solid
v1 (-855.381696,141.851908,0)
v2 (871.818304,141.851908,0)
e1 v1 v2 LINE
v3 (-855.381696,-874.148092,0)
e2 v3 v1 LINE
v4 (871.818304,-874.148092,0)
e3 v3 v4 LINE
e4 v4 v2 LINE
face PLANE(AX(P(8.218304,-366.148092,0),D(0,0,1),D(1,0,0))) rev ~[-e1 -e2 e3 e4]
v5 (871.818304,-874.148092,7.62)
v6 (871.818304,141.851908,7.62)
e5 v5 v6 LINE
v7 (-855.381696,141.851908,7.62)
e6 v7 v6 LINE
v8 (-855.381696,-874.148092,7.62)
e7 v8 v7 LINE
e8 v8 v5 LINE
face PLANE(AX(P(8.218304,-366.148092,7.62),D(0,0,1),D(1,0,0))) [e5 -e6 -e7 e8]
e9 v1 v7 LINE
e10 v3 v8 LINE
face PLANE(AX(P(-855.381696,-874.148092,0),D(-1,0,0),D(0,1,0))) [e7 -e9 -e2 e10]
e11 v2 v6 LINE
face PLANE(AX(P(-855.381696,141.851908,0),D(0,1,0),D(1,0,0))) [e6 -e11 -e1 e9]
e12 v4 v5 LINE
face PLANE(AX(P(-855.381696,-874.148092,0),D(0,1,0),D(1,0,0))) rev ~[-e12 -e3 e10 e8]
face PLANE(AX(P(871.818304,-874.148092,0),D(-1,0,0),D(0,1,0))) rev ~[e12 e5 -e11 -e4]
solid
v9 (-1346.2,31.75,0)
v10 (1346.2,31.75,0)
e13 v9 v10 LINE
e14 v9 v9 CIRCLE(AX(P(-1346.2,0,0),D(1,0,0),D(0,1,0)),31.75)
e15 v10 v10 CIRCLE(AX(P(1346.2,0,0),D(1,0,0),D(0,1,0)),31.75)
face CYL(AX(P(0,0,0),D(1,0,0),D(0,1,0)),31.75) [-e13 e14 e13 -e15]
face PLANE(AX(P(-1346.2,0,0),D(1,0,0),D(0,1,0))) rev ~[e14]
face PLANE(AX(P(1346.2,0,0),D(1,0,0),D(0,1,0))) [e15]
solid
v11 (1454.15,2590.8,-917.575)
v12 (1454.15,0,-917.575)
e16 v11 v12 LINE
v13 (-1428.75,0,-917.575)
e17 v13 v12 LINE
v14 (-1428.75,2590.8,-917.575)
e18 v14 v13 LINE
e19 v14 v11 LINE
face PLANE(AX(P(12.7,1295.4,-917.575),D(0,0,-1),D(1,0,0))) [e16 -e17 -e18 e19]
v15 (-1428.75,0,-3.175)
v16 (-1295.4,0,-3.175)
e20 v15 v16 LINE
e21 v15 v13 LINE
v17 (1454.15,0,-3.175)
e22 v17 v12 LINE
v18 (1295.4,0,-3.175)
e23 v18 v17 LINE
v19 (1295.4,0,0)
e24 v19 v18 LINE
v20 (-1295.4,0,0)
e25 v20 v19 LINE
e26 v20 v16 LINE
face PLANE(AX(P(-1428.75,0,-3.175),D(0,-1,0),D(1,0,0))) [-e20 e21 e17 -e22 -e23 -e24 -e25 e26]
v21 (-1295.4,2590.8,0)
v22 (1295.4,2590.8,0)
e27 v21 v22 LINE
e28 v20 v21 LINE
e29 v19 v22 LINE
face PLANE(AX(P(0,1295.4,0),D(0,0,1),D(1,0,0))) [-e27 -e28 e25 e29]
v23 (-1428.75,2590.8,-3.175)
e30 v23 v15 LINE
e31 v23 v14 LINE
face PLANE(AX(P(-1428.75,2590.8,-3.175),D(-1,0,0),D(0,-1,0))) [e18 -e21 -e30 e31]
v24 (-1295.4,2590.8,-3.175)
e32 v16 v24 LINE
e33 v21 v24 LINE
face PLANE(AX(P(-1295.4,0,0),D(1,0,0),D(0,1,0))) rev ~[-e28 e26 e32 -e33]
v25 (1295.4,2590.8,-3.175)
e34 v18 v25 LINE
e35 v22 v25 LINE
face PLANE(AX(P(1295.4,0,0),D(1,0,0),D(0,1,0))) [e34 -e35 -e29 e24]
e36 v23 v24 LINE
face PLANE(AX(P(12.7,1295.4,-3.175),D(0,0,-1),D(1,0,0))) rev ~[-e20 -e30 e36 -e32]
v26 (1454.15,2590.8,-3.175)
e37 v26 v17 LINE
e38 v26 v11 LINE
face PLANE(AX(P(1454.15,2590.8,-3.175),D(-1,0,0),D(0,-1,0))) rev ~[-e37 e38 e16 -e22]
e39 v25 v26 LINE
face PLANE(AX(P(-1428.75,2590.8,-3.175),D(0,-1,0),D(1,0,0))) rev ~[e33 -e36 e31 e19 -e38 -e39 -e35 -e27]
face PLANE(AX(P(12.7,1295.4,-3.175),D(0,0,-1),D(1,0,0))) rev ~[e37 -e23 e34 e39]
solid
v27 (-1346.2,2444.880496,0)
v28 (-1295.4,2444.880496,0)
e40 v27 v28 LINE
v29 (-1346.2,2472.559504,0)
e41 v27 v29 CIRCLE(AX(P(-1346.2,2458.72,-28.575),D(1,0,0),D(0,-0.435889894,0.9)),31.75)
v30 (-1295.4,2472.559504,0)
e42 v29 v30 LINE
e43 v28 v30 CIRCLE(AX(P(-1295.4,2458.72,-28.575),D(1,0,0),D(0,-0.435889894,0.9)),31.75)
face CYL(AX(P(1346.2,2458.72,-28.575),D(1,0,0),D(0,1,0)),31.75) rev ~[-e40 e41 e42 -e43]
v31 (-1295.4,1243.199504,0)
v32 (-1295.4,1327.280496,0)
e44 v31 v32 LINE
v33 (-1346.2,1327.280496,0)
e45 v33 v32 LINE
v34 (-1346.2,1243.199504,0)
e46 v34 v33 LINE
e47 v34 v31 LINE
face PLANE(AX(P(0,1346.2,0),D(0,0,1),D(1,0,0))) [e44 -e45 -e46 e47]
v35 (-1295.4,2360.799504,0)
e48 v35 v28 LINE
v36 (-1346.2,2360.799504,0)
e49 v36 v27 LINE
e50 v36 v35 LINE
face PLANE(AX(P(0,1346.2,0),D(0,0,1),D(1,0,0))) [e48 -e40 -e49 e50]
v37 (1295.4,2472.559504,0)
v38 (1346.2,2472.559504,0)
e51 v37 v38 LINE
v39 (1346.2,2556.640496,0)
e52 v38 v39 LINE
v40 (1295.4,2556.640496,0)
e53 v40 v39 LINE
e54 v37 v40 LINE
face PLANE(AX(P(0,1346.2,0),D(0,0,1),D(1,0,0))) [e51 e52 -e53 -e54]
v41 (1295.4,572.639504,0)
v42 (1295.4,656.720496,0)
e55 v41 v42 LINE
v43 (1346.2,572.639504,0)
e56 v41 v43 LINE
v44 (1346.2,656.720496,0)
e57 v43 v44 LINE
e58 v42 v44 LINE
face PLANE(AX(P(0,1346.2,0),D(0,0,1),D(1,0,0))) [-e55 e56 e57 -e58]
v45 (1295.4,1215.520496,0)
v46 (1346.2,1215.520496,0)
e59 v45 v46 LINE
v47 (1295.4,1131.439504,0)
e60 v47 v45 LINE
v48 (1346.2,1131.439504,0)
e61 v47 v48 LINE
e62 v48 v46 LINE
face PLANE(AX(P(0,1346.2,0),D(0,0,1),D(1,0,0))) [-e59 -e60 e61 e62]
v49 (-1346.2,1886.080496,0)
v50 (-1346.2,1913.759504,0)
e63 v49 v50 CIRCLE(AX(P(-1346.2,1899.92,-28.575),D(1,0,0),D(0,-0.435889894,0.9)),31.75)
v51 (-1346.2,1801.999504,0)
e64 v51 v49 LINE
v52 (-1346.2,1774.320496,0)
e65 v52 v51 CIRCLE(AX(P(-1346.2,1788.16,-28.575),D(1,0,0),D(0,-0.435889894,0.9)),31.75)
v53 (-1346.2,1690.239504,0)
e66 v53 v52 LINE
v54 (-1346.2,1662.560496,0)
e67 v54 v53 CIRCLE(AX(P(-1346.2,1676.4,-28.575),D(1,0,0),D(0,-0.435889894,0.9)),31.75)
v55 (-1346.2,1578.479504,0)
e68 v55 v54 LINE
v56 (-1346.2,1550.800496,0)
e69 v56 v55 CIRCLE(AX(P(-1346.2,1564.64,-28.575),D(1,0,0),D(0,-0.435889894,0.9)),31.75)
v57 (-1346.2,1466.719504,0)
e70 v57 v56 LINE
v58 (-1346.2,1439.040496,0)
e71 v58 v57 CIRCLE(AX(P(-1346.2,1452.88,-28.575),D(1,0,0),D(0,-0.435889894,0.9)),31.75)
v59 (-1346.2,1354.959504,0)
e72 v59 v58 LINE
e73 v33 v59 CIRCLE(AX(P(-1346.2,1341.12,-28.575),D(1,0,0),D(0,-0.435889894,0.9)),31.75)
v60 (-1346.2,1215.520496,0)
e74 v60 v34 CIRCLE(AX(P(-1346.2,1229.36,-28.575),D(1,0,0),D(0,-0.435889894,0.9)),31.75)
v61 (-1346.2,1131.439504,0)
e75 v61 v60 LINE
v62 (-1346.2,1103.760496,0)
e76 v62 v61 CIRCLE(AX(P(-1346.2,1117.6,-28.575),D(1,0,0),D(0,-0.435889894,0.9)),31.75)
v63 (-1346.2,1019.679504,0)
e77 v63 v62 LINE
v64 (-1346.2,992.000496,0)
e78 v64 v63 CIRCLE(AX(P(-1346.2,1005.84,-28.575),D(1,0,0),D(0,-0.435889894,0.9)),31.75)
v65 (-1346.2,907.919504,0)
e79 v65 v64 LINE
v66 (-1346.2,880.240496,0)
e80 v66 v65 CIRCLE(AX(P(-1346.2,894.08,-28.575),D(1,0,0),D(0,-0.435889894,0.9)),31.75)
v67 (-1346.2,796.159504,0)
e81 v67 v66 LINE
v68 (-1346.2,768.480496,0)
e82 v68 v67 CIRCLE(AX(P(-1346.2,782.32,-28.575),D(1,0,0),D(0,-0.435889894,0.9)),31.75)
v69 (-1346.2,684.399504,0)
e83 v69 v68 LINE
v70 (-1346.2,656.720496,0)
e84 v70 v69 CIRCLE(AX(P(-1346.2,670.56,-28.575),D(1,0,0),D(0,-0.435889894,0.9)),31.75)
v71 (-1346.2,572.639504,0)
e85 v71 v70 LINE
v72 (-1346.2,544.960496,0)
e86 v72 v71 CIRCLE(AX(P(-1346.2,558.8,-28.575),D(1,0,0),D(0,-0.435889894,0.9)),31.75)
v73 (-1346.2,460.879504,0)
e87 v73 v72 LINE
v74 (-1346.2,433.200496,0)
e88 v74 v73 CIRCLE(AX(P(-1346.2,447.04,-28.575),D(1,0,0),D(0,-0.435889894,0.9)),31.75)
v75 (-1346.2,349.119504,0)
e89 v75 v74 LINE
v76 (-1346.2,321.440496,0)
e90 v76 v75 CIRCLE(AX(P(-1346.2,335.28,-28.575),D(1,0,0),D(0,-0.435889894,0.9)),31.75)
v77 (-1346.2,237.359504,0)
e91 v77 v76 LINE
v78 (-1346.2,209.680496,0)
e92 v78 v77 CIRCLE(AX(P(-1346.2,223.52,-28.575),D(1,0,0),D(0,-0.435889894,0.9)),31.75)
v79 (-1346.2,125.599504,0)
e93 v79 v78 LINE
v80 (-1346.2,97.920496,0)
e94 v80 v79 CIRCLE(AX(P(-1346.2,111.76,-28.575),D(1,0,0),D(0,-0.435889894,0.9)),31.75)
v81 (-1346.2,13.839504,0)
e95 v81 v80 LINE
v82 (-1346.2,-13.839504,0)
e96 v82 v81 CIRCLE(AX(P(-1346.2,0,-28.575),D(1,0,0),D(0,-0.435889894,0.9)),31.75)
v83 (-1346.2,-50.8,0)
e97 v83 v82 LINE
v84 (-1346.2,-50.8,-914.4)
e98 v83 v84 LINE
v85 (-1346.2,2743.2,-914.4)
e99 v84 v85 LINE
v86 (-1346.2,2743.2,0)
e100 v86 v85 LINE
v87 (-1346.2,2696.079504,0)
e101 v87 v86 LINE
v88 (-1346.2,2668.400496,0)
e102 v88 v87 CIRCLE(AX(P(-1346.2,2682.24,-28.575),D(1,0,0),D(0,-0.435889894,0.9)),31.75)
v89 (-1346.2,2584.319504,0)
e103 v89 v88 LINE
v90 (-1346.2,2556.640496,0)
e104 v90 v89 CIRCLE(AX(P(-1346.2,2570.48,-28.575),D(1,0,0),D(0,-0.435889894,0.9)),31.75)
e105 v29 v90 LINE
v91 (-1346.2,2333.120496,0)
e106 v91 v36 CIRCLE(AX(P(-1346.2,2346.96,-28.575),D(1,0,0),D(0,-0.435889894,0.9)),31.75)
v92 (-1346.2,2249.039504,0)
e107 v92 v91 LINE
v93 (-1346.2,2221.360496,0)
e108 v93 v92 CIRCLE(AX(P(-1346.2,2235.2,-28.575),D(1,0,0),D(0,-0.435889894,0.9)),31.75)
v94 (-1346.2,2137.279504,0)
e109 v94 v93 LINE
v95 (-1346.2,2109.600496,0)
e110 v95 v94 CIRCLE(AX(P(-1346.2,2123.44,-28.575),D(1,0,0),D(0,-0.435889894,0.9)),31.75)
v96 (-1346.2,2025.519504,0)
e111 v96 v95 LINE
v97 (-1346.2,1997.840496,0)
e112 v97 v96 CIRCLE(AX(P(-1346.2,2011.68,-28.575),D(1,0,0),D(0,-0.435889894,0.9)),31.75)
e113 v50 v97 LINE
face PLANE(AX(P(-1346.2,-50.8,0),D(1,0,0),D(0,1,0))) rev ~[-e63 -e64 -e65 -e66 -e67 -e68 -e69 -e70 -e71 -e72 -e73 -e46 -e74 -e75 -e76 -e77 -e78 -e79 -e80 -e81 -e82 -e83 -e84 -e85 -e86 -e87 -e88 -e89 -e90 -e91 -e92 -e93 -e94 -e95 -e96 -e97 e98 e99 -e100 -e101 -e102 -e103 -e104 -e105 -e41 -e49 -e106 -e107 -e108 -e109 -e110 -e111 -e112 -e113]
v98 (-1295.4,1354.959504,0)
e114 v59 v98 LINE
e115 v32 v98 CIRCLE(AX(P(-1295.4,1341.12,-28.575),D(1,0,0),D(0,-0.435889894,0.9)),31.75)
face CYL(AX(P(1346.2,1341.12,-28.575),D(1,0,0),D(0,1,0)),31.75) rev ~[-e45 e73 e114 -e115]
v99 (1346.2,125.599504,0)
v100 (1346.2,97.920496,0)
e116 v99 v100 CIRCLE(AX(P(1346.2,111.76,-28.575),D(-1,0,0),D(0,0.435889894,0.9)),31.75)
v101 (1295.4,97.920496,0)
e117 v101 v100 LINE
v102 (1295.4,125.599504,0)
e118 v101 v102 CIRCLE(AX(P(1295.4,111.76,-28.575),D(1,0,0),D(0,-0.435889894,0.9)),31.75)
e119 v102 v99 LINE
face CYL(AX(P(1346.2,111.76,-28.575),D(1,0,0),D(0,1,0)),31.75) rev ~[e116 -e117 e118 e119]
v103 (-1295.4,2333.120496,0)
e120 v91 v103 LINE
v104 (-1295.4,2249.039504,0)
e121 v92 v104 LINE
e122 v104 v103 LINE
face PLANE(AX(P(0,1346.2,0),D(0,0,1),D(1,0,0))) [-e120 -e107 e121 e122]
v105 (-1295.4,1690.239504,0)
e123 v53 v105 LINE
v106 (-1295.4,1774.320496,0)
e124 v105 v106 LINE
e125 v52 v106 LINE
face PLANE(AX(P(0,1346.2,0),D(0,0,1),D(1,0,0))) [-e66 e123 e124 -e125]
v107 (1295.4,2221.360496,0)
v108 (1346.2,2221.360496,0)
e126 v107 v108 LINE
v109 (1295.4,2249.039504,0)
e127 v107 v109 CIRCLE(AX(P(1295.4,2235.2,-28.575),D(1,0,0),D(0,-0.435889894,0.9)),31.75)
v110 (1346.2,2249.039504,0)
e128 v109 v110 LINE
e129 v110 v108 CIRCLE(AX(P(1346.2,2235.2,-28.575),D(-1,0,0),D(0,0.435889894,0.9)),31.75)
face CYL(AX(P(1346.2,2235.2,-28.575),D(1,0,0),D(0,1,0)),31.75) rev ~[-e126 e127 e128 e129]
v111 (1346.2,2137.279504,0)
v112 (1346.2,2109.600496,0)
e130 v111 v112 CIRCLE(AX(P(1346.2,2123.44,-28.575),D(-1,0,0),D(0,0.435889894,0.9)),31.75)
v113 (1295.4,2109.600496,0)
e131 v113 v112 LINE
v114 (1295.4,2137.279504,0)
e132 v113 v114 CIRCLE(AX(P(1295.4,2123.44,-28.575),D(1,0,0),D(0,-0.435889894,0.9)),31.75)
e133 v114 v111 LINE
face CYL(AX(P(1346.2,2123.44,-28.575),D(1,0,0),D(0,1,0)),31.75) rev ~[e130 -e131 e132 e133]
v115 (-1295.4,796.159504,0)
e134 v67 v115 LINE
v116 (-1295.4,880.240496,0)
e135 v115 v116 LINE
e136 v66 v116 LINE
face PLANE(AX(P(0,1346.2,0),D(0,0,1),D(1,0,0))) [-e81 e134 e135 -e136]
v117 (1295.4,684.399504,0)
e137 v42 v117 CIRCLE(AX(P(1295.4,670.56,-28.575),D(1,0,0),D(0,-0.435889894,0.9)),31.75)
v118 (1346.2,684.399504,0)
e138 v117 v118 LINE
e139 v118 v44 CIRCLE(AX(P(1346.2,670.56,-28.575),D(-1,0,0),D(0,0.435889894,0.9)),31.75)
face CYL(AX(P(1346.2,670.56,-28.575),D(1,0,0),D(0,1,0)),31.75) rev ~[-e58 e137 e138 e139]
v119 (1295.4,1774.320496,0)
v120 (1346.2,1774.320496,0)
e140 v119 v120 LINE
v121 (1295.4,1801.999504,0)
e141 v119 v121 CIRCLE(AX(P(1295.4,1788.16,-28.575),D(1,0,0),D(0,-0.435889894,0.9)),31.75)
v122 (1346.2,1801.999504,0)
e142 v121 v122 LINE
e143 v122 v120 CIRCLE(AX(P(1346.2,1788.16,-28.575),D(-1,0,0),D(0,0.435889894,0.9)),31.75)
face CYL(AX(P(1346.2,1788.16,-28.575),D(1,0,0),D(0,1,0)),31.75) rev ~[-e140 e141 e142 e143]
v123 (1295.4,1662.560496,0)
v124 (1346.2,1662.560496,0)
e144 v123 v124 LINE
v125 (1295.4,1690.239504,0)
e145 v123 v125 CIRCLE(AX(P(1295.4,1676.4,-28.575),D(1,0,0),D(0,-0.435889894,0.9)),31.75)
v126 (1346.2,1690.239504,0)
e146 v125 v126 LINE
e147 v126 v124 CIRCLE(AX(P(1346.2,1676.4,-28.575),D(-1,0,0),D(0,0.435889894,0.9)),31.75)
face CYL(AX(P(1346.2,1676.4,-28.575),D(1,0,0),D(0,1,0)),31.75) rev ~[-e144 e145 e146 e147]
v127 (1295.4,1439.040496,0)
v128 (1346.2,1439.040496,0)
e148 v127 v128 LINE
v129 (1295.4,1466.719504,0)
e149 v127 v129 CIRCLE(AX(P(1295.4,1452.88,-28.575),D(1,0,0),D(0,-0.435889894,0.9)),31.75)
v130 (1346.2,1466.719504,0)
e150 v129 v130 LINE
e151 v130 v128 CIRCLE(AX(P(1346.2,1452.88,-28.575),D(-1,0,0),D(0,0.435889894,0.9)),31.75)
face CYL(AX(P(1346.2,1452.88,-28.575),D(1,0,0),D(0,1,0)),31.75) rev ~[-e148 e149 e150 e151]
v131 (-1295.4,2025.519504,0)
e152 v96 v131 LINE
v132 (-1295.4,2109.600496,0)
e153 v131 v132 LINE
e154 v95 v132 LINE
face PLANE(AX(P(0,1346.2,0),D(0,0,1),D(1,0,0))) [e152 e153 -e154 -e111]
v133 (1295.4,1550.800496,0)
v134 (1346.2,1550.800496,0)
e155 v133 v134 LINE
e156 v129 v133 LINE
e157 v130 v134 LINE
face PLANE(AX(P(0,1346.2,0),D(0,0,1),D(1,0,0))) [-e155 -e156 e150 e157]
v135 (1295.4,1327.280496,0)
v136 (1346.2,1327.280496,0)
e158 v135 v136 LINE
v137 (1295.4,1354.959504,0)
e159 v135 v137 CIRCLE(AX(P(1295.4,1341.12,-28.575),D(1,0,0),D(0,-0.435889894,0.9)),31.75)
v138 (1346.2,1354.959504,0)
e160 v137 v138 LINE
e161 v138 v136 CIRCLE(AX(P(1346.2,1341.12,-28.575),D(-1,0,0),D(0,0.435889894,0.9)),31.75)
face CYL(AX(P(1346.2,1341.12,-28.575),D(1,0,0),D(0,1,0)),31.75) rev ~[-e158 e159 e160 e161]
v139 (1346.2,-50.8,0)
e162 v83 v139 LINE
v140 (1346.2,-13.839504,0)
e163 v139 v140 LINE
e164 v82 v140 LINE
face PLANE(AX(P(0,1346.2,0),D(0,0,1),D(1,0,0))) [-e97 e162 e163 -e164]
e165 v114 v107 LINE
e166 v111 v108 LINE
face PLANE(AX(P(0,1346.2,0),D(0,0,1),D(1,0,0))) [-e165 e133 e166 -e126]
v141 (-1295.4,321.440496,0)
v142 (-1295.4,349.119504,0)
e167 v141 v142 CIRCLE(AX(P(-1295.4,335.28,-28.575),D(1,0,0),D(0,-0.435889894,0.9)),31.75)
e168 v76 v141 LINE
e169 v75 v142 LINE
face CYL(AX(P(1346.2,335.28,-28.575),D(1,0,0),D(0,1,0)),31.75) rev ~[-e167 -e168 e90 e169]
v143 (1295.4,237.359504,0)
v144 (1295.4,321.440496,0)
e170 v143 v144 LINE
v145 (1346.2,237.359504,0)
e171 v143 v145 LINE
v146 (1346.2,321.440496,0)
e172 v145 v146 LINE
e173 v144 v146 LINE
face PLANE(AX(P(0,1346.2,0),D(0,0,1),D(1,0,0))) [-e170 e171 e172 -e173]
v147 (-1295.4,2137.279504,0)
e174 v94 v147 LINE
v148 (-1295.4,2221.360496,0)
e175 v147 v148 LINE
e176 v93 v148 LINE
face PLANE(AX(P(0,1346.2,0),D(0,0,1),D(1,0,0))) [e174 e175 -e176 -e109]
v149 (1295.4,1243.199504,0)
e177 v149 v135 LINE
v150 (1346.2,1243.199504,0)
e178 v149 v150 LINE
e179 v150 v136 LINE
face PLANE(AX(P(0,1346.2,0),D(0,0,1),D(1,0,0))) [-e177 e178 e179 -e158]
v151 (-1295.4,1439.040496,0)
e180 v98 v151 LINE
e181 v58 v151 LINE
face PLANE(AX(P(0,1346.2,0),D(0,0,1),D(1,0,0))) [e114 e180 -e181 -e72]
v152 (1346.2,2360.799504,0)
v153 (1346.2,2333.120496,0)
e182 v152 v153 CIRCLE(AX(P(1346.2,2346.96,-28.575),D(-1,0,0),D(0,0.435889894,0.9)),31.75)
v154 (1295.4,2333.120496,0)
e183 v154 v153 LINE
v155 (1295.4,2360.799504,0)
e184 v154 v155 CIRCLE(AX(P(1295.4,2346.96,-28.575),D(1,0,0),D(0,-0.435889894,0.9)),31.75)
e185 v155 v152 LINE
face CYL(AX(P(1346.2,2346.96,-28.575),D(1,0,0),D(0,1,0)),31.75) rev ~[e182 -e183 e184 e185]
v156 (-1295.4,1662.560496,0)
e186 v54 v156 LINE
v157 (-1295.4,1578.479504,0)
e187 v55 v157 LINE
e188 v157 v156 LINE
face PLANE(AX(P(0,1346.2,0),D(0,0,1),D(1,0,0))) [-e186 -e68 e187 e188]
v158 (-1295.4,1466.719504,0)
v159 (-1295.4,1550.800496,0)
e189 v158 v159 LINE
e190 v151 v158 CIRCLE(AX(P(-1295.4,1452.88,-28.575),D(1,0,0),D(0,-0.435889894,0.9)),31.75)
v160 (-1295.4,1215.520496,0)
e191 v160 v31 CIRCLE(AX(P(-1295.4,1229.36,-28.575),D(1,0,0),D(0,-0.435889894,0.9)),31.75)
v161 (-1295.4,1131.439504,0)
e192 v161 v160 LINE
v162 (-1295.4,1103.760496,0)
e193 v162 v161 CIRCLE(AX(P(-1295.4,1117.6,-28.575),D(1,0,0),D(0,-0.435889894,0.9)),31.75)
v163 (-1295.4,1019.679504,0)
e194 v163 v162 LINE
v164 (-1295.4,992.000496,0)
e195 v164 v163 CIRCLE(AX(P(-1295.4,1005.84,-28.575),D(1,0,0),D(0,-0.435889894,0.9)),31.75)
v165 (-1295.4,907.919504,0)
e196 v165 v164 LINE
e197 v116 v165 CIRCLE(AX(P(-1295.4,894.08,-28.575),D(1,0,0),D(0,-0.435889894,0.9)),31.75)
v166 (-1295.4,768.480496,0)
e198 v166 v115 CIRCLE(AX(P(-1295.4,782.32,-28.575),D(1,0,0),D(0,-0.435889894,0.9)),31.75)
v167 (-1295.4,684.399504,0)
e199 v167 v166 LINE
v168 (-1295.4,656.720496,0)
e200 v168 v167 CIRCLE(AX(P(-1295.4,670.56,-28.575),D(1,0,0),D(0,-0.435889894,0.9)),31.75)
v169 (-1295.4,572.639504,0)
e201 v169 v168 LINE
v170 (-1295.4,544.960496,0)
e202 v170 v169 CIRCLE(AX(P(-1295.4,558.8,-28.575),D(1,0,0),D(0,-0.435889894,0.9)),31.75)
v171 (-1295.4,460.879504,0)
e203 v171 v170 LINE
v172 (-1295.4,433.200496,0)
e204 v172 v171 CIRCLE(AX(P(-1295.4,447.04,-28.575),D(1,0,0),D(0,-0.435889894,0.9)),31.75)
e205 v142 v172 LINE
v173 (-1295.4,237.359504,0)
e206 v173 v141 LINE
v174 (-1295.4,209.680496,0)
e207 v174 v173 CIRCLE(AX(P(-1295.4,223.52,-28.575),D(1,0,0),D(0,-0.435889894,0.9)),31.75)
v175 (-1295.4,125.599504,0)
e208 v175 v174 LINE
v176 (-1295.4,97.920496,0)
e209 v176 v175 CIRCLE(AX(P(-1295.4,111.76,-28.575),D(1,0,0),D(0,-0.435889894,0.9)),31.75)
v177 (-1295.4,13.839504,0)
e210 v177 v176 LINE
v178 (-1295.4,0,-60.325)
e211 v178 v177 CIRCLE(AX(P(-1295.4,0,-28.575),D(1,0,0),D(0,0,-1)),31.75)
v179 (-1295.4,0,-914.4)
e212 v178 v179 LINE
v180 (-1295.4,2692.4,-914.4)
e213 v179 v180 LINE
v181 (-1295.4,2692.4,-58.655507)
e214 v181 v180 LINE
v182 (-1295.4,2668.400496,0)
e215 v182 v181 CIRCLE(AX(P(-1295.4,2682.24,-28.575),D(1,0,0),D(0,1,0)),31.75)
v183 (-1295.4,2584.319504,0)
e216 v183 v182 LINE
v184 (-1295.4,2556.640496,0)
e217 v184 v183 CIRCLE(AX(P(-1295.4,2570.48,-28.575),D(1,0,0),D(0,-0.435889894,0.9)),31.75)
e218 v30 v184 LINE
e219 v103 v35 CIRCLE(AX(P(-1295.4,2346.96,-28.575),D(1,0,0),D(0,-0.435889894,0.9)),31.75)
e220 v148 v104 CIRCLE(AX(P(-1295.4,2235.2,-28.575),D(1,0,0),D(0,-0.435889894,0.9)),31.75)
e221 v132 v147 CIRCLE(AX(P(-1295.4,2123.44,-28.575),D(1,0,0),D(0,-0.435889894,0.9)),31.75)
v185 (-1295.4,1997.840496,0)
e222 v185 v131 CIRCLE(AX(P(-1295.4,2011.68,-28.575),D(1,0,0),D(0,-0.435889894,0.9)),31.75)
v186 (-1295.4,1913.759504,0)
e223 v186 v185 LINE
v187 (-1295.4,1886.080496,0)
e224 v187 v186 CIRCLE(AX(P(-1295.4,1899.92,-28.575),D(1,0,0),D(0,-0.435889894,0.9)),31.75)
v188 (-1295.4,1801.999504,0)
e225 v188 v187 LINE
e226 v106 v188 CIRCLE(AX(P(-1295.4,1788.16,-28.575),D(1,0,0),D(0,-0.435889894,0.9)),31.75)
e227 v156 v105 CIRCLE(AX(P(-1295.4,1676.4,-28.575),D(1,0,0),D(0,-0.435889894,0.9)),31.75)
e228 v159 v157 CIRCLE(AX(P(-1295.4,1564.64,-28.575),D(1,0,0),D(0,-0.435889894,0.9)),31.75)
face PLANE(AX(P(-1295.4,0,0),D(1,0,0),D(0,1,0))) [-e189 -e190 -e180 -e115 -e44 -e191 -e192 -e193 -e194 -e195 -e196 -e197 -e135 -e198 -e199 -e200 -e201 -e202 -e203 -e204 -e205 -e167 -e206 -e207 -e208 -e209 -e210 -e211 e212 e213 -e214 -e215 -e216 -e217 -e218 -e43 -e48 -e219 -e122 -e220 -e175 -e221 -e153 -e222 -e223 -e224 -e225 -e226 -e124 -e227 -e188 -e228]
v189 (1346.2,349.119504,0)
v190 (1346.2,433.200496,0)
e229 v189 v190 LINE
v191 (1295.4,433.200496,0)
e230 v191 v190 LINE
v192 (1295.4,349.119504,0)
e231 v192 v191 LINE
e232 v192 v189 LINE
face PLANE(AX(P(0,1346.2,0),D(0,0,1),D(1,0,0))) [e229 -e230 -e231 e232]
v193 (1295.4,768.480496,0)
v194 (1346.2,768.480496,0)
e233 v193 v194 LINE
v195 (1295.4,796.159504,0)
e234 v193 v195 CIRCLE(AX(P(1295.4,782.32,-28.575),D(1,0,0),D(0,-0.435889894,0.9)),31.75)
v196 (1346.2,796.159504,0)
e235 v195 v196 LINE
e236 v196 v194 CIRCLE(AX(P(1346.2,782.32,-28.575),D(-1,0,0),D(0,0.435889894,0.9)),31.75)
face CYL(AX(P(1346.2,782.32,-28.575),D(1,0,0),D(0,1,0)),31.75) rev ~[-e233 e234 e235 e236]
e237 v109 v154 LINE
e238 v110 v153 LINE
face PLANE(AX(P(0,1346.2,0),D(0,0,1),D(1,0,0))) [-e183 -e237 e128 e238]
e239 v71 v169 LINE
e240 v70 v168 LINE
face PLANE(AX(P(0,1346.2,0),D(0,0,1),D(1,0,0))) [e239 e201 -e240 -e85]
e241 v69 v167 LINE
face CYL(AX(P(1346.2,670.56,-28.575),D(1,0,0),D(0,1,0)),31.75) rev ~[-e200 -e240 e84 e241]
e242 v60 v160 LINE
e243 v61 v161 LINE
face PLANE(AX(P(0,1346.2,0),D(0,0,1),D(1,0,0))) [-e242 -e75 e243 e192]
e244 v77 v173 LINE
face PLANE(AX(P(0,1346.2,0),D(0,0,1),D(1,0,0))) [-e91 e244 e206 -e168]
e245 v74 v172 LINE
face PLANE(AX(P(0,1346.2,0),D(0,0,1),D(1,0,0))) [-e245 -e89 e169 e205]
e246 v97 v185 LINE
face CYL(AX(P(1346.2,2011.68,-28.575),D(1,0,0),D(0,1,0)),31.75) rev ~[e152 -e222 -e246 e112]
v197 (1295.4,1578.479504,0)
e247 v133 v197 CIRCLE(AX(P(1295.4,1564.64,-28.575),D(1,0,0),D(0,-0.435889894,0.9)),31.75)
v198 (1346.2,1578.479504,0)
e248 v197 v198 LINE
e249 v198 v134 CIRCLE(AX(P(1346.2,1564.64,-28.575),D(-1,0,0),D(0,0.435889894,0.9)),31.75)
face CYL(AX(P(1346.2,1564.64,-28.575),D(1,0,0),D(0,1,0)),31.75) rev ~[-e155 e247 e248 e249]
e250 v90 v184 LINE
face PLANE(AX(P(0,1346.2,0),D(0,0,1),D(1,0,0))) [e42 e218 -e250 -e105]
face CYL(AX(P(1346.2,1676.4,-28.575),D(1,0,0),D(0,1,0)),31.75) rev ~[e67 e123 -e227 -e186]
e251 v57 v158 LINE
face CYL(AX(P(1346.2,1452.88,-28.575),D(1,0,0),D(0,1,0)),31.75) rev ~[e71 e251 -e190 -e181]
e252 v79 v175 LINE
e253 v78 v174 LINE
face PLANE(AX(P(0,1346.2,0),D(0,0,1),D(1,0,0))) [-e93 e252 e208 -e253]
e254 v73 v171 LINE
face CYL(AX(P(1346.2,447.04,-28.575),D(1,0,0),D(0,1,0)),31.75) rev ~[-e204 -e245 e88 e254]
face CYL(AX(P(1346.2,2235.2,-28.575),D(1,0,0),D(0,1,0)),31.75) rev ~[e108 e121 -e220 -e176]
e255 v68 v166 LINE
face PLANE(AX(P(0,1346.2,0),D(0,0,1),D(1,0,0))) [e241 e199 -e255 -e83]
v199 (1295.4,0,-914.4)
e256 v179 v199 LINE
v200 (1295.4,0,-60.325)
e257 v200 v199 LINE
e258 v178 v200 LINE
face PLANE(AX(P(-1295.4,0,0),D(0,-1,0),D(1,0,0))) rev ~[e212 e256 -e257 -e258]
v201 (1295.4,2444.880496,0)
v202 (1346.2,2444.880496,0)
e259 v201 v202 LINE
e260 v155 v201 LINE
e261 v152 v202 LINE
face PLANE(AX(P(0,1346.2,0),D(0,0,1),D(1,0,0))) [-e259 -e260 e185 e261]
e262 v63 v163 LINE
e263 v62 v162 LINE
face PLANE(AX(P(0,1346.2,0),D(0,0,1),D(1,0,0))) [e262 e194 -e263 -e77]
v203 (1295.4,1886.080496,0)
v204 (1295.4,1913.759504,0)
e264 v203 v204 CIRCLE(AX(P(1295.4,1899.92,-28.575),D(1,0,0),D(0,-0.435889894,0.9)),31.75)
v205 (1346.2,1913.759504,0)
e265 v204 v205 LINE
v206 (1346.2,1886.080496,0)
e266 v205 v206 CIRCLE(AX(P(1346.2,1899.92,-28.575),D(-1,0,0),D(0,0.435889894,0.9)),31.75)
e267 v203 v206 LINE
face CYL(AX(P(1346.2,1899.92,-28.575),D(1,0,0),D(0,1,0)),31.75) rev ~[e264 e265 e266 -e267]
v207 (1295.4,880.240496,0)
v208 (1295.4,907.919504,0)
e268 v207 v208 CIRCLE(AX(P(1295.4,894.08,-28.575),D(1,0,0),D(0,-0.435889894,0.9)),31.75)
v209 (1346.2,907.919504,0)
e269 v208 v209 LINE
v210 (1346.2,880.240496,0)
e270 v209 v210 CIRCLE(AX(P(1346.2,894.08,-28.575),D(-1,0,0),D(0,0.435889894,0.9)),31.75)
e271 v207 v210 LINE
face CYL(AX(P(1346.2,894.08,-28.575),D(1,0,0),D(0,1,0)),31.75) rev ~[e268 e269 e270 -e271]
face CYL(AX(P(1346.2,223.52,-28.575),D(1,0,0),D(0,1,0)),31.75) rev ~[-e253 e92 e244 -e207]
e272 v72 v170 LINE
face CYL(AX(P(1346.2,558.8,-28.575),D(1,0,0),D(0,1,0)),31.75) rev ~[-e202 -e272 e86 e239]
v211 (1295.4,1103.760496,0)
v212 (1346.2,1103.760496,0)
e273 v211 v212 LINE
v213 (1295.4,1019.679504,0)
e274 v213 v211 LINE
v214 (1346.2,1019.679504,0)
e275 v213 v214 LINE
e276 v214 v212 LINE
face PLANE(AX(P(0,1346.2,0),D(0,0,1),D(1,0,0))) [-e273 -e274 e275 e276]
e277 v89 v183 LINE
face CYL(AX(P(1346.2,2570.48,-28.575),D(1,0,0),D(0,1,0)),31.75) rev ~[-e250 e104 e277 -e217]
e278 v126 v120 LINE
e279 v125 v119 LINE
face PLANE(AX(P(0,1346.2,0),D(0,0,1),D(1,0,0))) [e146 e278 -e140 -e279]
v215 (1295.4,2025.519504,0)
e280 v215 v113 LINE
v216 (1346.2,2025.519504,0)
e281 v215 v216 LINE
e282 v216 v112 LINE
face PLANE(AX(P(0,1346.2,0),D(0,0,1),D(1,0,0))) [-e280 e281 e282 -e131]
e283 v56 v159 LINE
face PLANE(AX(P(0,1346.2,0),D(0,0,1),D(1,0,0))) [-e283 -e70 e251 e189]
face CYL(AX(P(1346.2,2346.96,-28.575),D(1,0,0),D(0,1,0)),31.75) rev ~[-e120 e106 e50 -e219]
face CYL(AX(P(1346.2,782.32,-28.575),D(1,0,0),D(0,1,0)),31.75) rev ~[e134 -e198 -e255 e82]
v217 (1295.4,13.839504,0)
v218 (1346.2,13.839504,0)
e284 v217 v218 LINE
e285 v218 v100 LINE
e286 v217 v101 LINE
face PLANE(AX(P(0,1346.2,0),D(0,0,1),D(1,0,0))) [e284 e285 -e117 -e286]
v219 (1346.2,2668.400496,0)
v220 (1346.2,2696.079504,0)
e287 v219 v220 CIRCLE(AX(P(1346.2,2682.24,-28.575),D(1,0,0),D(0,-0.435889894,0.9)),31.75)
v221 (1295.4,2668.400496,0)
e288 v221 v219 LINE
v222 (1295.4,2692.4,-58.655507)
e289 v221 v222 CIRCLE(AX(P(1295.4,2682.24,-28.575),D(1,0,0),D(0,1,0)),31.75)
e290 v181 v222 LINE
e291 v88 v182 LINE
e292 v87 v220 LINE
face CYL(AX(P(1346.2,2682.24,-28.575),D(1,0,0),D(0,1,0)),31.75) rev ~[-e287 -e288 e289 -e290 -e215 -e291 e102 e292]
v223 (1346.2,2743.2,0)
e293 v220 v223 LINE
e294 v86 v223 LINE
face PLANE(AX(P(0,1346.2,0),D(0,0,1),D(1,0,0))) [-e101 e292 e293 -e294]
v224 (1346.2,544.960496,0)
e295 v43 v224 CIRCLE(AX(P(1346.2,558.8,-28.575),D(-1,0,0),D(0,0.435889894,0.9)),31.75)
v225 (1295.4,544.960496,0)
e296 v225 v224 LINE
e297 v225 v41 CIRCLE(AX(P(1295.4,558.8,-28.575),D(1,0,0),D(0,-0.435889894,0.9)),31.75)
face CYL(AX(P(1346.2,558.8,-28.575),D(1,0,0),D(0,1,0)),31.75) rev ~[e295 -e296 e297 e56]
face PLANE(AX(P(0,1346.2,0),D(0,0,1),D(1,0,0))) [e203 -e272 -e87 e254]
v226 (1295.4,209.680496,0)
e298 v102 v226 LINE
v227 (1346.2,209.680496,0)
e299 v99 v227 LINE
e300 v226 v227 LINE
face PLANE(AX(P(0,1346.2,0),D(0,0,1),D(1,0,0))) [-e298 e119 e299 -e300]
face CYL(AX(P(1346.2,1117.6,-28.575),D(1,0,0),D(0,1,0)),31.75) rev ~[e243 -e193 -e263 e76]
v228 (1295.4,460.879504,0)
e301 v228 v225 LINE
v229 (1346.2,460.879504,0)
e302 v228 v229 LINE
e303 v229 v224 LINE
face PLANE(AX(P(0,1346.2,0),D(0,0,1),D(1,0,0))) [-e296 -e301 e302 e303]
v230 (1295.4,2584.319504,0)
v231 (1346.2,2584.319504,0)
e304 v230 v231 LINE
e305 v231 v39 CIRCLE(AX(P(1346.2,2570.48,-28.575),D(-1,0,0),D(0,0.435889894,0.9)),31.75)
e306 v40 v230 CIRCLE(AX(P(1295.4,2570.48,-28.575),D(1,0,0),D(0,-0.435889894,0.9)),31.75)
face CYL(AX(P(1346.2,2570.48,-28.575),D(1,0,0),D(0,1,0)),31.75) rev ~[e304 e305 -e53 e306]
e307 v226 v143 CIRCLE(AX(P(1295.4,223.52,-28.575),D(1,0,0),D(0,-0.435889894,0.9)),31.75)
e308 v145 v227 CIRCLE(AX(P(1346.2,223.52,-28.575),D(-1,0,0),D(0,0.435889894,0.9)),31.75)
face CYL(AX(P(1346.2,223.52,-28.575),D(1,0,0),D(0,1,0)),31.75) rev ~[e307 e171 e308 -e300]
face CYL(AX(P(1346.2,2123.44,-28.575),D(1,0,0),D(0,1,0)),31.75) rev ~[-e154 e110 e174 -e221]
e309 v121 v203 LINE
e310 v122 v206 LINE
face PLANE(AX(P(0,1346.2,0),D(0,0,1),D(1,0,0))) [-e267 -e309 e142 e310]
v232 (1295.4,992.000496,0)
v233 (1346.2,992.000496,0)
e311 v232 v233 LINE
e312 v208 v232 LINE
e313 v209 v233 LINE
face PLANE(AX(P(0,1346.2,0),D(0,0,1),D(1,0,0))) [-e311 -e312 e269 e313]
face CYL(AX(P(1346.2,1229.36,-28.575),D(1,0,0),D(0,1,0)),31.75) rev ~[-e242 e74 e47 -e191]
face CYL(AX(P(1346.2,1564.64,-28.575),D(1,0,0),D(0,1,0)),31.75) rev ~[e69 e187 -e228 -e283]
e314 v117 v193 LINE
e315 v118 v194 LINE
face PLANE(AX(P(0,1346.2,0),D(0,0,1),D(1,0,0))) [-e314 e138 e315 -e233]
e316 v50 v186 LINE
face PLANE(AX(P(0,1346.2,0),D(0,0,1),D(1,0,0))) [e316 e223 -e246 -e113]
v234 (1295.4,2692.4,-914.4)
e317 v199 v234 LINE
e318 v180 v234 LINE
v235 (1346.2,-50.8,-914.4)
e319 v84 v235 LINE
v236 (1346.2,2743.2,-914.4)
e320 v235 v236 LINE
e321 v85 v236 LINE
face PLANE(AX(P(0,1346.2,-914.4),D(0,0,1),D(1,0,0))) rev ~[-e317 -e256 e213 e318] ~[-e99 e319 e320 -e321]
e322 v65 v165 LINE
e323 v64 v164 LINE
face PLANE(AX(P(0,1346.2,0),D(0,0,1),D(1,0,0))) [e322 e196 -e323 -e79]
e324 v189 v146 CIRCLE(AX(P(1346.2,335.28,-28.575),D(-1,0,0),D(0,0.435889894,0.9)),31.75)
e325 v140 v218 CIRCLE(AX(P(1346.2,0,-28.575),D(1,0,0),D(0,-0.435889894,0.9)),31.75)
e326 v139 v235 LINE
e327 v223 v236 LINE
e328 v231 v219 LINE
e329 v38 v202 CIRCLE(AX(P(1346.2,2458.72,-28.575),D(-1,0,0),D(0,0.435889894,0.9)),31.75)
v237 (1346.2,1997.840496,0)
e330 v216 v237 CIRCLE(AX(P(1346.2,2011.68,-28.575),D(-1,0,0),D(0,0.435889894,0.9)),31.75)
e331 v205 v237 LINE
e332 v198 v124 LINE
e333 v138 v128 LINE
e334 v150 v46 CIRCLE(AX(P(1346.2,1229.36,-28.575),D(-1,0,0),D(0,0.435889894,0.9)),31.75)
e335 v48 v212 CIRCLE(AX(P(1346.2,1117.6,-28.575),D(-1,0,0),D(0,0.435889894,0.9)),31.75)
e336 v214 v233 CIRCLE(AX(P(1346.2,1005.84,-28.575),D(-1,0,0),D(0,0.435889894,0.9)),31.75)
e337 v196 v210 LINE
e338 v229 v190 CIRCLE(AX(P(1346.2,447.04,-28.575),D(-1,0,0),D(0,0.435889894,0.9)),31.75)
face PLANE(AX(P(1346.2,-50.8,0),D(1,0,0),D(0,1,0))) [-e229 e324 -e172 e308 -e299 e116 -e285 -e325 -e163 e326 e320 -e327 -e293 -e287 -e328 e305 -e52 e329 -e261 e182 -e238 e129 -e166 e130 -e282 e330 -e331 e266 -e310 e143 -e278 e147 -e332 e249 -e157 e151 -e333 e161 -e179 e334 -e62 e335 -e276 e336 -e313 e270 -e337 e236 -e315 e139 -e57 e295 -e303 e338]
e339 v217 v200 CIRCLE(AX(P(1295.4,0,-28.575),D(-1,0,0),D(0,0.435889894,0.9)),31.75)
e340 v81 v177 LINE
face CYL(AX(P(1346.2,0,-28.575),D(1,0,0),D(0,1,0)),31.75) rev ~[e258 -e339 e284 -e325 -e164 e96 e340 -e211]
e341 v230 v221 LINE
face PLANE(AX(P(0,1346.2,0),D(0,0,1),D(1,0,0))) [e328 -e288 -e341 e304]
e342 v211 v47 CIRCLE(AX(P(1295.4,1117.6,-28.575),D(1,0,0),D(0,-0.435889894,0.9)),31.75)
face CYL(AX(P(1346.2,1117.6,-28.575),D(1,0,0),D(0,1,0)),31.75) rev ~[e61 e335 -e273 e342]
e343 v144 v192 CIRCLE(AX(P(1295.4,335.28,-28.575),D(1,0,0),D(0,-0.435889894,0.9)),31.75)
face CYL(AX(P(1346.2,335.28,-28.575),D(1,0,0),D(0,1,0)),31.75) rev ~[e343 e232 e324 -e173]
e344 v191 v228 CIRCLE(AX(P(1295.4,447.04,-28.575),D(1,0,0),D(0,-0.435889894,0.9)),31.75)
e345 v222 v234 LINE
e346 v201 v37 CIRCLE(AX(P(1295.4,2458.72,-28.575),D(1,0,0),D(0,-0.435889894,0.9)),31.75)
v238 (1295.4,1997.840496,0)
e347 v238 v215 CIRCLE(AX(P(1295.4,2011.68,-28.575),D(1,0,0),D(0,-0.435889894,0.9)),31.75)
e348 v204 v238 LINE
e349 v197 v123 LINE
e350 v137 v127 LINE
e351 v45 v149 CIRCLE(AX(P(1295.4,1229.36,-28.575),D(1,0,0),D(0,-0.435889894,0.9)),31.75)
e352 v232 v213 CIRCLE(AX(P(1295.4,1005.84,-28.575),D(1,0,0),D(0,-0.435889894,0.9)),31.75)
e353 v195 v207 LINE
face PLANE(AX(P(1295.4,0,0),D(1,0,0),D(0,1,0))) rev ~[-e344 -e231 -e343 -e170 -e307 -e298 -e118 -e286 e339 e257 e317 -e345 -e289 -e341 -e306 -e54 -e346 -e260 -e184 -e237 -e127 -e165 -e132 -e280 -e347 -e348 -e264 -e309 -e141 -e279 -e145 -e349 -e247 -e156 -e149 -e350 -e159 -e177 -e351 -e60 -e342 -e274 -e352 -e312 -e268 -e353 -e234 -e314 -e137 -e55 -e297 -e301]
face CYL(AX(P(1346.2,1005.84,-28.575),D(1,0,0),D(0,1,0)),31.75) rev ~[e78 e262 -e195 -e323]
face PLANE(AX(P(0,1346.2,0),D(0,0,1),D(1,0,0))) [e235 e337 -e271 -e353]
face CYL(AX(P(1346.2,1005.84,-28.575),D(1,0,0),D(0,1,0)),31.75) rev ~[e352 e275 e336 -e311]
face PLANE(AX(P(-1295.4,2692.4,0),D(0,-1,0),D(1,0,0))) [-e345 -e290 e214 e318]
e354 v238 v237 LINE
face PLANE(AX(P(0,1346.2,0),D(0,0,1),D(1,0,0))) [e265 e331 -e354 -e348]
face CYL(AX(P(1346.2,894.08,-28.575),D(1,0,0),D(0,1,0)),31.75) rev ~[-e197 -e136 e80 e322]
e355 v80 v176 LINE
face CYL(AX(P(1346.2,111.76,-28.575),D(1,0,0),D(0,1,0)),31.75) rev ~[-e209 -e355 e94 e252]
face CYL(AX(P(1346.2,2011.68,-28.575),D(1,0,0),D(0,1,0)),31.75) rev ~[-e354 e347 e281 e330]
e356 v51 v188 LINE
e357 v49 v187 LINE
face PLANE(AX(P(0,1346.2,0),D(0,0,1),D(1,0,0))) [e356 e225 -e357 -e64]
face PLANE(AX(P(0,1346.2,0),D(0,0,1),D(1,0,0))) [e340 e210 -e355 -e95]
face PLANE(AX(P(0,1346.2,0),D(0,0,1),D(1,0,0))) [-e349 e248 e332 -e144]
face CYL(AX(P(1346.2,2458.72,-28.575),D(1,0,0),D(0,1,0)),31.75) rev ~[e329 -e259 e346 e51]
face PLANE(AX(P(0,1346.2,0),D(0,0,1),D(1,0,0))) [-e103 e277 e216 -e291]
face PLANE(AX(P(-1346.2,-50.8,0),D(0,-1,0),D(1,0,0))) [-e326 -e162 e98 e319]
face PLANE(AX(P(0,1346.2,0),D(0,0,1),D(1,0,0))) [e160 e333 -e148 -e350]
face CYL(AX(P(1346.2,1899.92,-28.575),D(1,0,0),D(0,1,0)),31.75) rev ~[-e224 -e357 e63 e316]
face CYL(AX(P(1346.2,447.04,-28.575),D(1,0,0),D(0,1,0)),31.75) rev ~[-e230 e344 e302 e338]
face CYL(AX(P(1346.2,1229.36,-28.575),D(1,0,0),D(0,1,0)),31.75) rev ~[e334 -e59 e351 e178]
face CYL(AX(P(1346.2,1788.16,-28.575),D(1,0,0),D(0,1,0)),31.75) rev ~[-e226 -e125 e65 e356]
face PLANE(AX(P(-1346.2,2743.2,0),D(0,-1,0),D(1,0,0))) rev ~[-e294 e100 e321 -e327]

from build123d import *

# Parameters (mm, degrees)
F0_W      = 2590.8
F0_H      = 2590.8
F1_DEPTH  = 3.175
F2_W      = 2882.9
F2_H      = 2590.8
F3_DEPTH  = 914.4
F4_W      = 2590.8
F4_H      = 2794
F5_DEPTH  = 914.4
F7_W      = 2692.4
F7_H      = 2794
F7_W_2    = 2590.8
F7_H_2    = 2692.4
F8_DEPTH  = 914.4
F9_R      = 31.75
F10_DEPTH = 1346.2
F11_R     = 31.75
F12_DEPTH = 2774.951
F13_W     = 1727.2
F13_H     = 1016
F14_DEPTH = 7.62


with BuildPart() as f1:
    # F0 (on Top) → F1 (new body)
    with BuildSketch(Plane.XY):
        with Locations((0, 1295.4)):
            Rectangle(F0_W, F0_H)
    extrude(amount=-F1_DEPTH)

    # F2 (on face) → F3 (join)
    with BuildSketch(Plane(origin=(0, 0, -3.175), x_dir=(1, 0, 0), z_dir=(0, 0, -1))):
        with Locations((12.7, -1295.4)):
            Rectangle(F2_W, F2_H)
    extrude(amount=F3_DEPTH)


with BuildPart() as f5:
    # F4 (on Top) → F5 (new body)
    with BuildSketch(Plane.XY):
        Polygon((-1295.4, 0), (-1295.4, 25.4), (-1346.2, 25.4), (-1346.2, -2870.2), (1346.2, -2870.2), (1346.2, 25.4), (1295.4, 25.4), (1295.4, 0), align=None)
        with Locations((0, -1422.4)):
            Rectangle(F4_W, F4_H, mode=Mode.SUBTRACT)
    extrude(amount=-F5_DEPTH)


with BuildPart() as f8:
    # F7 (on Top) → F8 (new body)
    with BuildSketch(Plane.XY):
        with Locations((0, 1346.2)):
            Rectangle(F7_W, F7_H)
        with Locations((0, 1346.2)):
            Rectangle(F7_W_2, F7_H_2, mode=Mode.SUBTRACT)
    extrude(amount=-F8_DEPTH)

    # F11 (on face) → F12 (cut, through all)
    with BuildSketch(Plane.YZ.offset(1346.2)):
        with Locations((0, -28.575)):
            Circle(F11_R)
        with Locations((111.76, -28.575)):
            Circle(F11_R)
        with Locations((223.52, -28.575)):
            Circle(F11_R)
        with Locations((335.28, -28.575)):
            Circle(F11_R)
        with Locations((447.04, -28.575)):
            Circle(F11_R)
        with Locations((558.8, -28.575)):
            Circle(F11_R)
        with Locations((670.56, -28.575)):
            Circle(F11_R)
        with Locations((782.32, -28.575)):
            Circle(F11_R)
        with Locations((894.08, -28.575)):
            Circle(F11_R)
        with Locations((1005.84, -28.575)):
            Circle(F11_R)
        with Locations((1117.6, -28.575)):
            Circle(F11_R)
        with Locations((1229.36, -28.575)):
            Circle(F11_R)
        with Locations((1341.12, -28.575)):
            Circle(F11_R)
        with Locations((1452.88, -28.575)):
            Circle(F11_R)
        with Locations((1564.64, -28.575)):
            Circle(F11_R)
        with Locations((1676.4, -28.575)):
            Circle(F11_R)
        with Locations((1788.16, -28.575)):
            Circle(F11_R)
        with Locations((1899.92, -28.575)):
            Circle(F11_R)
        with Locations((2011.68, -28.575)):
            Circle(F11_R)
        with Locations((2123.44, -28.575)):
            Circle(F11_R)
        with Locations((2235.2, -28.575)):
            Circle(F11_R)
        with Locations((2346.96, -28.575)):
            Circle(F11_R)
        with Locations((2458.72, -28.575)):
            Circle(F11_R)
        with Locations((2570.48, -28.575)):
            Circle(F11_R)
        with Locations((2682.24, -28.575)):
            Circle(F11_R)
    extrude(amount=-F12_DEPTH, mode=Mode.SUBTRACT)


with BuildPart() as f10:
    # F9 (on Right) → F10 (new body, symmetric)
    with BuildSketch(Plane.YZ):
        Circle(F9_R)
    extrude(amount=F10_DEPTH, both=True)


with BuildPart() as f14:
    # F13 (on Top) → F14 (new body)
    with BuildSketch(Plane.XY):
        with Locations((8.2183043999, -366.1480918527)):
            Rectangle(F13_W, F13_H)
    extrude(amount=F14_DEPTH)


solid = Compound([f1.part, f8.part, f10.part, f14.part])
